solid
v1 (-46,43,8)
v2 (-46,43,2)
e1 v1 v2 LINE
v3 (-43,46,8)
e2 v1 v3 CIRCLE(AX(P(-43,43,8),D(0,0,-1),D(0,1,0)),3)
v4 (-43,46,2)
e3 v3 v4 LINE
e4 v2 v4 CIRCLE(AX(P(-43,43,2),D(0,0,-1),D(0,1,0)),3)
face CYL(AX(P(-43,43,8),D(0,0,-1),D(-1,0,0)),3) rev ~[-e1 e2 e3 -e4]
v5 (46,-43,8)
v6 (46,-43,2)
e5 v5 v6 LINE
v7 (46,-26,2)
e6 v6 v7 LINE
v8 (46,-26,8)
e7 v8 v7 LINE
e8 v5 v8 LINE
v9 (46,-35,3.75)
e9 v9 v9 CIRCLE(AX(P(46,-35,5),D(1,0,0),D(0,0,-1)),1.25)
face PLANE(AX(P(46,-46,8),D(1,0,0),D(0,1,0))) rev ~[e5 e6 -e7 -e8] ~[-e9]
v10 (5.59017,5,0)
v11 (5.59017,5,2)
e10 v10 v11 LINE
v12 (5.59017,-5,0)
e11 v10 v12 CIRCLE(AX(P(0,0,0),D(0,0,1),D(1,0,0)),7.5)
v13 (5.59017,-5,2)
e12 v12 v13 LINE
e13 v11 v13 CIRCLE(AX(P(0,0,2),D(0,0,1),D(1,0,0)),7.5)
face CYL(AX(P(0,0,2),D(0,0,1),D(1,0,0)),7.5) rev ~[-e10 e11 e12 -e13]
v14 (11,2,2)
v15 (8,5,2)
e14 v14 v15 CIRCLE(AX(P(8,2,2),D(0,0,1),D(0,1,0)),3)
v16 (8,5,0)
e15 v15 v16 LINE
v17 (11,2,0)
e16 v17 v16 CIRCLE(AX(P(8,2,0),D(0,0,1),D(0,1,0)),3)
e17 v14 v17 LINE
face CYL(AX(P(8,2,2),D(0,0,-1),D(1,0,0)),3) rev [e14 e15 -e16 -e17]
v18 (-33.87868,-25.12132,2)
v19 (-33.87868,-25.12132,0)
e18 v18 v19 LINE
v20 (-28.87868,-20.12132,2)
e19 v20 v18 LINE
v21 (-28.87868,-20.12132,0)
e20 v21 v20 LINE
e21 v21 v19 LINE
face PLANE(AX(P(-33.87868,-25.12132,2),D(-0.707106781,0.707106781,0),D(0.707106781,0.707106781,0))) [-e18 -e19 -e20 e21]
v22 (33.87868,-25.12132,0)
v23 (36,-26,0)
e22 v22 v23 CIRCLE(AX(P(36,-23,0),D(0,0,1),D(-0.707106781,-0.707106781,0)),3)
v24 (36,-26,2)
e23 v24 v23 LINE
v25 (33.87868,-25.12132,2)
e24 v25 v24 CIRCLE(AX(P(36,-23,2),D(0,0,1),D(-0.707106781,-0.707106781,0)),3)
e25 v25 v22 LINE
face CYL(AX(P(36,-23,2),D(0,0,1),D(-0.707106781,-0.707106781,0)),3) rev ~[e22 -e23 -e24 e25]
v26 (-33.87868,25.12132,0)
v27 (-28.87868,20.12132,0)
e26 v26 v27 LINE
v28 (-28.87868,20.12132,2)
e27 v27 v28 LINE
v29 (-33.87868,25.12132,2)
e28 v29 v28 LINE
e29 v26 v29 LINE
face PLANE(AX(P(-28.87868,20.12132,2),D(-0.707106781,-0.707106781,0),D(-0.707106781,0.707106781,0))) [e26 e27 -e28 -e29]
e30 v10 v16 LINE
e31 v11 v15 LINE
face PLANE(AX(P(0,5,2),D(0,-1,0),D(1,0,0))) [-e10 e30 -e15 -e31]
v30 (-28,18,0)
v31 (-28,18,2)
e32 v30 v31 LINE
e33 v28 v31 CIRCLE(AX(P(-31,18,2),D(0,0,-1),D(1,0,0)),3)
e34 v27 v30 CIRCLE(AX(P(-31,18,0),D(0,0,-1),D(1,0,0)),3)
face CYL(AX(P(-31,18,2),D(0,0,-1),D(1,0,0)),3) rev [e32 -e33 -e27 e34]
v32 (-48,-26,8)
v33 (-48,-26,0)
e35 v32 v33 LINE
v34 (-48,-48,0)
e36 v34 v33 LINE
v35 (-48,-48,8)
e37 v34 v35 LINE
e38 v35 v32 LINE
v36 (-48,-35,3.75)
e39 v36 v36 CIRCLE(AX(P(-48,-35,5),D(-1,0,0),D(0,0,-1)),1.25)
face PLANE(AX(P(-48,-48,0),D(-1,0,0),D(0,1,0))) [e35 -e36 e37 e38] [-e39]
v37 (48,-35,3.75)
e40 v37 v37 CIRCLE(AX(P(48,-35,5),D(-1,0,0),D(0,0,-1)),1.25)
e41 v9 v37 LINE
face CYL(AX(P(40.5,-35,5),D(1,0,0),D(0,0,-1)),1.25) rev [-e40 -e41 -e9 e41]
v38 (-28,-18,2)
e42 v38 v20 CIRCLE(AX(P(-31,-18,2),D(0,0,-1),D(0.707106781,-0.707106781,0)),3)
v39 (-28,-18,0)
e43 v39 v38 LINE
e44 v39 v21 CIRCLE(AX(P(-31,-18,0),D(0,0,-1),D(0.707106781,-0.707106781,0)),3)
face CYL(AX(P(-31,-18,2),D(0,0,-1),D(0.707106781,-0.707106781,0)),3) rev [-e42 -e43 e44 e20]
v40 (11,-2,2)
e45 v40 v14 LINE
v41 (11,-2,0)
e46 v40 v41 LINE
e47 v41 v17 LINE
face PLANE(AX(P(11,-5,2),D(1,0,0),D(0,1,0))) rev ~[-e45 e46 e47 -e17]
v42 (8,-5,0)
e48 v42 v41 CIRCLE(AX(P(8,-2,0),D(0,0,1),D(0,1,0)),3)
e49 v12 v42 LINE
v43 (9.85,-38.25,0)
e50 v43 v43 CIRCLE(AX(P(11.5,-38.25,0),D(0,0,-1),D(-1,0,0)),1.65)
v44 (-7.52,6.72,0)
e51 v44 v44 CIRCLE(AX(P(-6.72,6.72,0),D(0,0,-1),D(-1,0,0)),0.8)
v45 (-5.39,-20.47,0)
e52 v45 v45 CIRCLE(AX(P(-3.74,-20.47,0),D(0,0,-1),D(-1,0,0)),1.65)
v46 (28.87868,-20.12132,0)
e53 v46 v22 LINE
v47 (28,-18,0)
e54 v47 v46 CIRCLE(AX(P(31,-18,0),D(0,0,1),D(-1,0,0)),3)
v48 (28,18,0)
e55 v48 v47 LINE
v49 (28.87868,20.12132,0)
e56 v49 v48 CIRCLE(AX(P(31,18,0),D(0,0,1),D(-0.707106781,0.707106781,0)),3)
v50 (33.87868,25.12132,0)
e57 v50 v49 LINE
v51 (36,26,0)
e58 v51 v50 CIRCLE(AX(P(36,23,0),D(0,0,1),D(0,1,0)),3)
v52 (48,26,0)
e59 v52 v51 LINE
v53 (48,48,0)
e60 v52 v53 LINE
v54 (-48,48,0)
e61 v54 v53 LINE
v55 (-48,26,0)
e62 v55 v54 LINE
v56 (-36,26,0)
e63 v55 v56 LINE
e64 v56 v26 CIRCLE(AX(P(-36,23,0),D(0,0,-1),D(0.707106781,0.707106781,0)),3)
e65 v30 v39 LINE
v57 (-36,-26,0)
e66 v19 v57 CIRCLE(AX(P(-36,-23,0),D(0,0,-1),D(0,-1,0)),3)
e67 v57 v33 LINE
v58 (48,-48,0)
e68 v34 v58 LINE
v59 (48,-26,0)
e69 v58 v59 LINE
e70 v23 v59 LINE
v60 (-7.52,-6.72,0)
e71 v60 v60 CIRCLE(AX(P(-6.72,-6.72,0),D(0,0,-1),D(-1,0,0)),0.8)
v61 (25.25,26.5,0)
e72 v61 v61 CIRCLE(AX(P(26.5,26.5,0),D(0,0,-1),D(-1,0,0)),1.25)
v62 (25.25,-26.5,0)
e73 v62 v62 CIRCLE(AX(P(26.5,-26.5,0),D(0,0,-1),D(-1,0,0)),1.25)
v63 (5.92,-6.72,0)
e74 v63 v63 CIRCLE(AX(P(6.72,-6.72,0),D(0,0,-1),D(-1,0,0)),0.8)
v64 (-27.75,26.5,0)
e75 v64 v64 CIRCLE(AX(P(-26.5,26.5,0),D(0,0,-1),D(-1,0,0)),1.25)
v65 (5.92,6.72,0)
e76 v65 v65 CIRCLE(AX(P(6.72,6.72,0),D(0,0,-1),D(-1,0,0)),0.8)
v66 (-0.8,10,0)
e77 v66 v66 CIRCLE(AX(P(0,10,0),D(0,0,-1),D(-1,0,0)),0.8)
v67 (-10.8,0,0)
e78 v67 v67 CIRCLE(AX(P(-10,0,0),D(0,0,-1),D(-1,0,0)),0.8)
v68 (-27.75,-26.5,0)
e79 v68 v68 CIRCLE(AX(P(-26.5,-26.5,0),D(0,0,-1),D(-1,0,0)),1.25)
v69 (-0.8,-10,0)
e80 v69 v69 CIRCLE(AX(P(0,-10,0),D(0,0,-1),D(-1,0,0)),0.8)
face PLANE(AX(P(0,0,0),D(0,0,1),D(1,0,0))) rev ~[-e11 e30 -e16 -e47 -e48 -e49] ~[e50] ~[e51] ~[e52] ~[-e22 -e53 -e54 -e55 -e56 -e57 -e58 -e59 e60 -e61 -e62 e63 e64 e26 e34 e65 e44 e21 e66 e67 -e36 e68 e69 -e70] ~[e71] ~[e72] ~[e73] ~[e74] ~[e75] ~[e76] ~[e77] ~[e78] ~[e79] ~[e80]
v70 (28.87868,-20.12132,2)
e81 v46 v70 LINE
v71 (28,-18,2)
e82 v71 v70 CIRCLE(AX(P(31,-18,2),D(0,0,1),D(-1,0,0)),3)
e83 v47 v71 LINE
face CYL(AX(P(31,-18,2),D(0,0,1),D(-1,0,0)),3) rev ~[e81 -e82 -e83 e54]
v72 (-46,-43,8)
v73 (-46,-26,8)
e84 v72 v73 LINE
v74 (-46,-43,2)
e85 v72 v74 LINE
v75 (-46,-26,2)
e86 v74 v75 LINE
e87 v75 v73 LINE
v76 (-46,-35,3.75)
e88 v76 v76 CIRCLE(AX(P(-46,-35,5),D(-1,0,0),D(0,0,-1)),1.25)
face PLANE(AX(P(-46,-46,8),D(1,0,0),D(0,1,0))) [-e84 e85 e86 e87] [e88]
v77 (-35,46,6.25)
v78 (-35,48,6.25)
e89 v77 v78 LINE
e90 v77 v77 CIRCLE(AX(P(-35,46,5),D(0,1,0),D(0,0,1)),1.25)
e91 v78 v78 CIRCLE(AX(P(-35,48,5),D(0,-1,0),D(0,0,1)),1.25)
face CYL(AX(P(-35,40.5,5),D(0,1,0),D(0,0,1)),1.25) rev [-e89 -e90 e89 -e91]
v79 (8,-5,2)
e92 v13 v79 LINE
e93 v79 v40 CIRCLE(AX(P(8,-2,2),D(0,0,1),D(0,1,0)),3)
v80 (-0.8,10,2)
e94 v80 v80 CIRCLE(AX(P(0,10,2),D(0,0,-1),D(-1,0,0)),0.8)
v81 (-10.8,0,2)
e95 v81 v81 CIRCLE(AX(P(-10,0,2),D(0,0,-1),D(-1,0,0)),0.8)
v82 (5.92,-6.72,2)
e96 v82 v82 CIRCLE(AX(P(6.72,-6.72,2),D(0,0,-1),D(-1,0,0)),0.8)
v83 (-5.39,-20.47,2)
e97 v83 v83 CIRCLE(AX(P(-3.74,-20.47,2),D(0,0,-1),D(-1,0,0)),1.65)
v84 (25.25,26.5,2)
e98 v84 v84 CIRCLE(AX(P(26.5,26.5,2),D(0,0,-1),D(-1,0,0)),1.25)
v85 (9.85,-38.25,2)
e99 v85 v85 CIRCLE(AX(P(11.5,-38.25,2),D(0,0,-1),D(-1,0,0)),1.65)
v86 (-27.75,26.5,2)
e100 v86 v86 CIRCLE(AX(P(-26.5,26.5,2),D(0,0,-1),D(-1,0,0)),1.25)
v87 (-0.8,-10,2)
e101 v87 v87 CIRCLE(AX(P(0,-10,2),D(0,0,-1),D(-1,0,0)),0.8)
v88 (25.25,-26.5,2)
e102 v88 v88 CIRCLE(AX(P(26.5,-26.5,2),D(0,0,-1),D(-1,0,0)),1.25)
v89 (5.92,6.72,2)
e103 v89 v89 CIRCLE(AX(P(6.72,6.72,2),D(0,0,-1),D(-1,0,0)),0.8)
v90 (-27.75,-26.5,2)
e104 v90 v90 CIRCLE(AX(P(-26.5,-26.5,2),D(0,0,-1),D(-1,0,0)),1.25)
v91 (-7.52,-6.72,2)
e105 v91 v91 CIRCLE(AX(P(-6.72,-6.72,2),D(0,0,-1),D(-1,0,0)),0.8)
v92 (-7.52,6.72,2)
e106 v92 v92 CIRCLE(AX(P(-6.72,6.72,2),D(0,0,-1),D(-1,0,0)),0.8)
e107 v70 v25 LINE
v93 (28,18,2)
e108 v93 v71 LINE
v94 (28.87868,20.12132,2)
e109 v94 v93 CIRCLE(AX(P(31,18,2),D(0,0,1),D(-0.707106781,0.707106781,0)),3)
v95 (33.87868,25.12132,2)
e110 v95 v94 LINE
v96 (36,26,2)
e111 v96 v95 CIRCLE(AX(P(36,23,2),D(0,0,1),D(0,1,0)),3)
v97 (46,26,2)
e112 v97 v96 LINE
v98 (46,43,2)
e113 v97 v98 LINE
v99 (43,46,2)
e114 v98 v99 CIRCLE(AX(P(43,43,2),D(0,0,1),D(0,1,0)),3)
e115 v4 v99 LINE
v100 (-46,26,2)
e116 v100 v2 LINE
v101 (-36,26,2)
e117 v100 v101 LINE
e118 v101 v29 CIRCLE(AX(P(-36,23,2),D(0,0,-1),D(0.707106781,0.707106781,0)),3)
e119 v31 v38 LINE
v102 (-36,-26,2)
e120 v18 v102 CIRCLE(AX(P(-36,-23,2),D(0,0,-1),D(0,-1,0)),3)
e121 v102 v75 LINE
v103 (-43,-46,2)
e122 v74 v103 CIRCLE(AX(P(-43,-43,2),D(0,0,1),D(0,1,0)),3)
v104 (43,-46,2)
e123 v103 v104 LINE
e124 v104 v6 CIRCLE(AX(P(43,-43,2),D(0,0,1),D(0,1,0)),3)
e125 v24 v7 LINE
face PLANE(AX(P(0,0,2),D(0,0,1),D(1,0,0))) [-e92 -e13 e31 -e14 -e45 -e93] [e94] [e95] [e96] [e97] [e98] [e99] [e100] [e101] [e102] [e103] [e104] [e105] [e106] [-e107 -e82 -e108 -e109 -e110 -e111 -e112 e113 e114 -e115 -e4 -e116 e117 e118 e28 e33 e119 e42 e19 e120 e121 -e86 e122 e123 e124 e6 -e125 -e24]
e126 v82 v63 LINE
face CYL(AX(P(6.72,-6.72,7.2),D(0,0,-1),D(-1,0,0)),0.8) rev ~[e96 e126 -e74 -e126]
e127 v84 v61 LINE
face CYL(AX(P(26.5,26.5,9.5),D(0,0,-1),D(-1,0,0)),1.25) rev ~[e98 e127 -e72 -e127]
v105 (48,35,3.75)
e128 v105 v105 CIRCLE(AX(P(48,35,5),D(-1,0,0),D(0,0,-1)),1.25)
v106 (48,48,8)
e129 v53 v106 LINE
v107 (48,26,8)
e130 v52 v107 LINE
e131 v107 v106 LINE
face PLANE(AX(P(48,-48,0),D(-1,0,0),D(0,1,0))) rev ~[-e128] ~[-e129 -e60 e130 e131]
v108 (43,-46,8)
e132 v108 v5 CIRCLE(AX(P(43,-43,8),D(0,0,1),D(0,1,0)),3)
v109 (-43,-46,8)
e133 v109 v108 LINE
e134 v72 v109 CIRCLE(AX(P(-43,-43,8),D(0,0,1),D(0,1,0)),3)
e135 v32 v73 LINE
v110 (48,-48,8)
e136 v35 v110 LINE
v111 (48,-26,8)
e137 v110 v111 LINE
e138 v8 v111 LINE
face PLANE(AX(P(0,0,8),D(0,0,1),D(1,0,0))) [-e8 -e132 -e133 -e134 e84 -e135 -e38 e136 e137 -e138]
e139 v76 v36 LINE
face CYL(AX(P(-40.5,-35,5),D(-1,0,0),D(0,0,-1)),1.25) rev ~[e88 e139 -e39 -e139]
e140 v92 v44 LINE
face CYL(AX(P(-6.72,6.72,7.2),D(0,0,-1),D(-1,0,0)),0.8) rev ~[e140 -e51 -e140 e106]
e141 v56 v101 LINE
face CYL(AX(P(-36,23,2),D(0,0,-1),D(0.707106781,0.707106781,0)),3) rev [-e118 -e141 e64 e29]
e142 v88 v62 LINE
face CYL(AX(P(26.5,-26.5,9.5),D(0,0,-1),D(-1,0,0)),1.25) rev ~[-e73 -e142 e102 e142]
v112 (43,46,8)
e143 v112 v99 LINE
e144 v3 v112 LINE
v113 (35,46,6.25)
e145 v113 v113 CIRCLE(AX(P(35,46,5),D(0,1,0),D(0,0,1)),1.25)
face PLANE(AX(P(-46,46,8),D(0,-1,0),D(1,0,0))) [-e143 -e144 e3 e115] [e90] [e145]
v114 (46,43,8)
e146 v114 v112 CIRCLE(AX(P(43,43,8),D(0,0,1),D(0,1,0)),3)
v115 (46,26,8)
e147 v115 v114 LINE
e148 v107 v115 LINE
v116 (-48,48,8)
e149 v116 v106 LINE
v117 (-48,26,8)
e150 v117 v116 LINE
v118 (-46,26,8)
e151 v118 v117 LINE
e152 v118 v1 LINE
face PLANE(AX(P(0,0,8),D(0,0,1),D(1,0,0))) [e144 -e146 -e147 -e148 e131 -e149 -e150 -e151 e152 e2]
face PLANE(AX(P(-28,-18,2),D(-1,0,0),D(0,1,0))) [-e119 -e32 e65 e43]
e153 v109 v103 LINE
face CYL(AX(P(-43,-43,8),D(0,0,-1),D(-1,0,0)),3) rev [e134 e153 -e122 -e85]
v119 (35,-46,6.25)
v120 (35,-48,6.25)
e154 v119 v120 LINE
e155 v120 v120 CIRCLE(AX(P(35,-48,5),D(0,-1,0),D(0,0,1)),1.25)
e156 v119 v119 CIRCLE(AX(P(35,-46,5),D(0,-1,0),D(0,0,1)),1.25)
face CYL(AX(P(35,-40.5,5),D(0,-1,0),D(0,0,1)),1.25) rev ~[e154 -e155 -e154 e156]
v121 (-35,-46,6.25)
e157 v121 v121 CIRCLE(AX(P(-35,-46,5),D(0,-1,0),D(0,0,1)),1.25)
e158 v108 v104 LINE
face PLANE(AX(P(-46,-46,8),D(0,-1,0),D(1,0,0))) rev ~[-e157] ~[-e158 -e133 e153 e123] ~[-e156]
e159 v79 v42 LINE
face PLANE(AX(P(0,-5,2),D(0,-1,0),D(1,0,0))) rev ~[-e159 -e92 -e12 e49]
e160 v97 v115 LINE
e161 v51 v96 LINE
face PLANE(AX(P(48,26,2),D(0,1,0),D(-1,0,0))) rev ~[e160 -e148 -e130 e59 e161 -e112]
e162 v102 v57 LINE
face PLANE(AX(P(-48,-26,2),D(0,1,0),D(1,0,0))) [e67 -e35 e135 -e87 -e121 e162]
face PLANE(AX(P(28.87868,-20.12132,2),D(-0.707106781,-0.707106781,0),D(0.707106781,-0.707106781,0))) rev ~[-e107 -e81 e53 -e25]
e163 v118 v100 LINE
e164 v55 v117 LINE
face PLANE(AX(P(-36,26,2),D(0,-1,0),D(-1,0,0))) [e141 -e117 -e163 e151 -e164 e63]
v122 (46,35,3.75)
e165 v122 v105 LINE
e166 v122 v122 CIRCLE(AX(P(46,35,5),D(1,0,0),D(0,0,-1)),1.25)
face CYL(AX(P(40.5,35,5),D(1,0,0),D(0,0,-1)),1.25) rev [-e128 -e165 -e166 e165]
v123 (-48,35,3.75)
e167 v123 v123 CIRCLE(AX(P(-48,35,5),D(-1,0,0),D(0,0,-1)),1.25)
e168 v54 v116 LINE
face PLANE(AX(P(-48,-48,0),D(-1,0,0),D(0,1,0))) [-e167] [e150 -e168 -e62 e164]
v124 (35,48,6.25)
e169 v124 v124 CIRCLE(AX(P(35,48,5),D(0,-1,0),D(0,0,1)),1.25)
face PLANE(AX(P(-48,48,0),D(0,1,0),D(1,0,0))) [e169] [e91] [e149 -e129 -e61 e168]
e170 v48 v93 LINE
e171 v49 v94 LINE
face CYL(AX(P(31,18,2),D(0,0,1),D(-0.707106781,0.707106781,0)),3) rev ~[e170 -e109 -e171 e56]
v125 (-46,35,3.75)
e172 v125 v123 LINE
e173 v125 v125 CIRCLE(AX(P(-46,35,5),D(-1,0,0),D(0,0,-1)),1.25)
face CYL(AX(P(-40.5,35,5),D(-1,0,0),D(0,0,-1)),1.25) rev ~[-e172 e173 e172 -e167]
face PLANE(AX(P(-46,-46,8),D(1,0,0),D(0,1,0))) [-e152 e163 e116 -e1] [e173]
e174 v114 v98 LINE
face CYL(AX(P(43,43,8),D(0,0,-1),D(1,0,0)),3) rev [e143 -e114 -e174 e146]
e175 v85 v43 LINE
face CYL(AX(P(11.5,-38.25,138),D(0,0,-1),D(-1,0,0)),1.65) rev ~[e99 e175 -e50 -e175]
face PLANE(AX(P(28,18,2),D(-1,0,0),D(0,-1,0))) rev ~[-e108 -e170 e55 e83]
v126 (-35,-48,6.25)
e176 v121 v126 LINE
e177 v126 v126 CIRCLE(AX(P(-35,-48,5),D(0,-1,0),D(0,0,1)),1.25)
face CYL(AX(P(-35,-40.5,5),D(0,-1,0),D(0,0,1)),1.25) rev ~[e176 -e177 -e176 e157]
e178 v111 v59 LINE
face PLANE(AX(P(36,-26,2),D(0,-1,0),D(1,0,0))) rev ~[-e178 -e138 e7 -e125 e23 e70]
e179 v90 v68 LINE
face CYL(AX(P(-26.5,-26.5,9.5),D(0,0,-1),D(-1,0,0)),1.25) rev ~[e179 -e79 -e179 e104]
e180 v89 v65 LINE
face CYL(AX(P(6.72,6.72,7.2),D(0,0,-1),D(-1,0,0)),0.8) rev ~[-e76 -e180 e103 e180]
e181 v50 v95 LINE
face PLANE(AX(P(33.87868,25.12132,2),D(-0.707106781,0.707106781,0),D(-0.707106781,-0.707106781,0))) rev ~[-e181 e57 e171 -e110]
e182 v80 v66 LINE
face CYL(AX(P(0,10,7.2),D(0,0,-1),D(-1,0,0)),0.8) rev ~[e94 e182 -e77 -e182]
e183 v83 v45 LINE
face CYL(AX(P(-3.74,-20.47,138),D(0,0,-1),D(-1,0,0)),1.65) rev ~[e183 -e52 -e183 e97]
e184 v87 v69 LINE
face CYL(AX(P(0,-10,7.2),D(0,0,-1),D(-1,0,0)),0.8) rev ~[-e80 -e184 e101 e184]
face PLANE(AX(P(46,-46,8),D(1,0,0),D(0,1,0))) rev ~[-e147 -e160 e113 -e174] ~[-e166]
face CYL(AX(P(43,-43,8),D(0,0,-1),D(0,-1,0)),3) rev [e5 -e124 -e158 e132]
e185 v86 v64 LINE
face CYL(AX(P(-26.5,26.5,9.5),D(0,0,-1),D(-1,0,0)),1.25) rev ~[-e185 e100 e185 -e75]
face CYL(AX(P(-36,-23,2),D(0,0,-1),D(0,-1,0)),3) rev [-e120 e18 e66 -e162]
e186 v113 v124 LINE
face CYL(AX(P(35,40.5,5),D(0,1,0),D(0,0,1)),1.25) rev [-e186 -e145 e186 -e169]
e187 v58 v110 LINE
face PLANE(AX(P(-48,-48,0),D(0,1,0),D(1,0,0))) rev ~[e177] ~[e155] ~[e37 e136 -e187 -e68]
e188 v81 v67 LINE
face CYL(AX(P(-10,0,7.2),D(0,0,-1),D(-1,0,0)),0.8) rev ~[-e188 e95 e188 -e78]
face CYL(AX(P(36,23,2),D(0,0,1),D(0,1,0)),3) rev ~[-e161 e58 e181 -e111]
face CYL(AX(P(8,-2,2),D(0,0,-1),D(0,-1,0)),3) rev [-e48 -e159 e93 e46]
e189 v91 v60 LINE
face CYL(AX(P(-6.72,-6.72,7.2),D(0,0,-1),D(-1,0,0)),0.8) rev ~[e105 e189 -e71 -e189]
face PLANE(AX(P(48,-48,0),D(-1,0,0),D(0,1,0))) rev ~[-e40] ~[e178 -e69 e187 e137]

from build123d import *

# Parameters (mm, degrees)
SKETCH1_W                      = 96
SKETCH1_H                      = 96
BOSS_EXTRUDE1_DEPTH            = 8
SKETCH2_W                      = 92
SKETCH2_H                      = 92
COMPONENT_PLATFORM_DEPTH       = 6
CABLE_SLOTS_DEPTH              = 6
SKETCH4_R                      = 7.5
CENTER_MASS_CUT_DEPTH          = 6
INNER_CORNER_FILLETS_R         = 3
SKETCH10_W                     = 11
SKETCH10_H                     = 10
MOTOR_CUTOUT_DEPTH             = 2
FILLET1_R                      = 3
M3X0_5_TAPPED_HOLE1_AT_2_COUNT = 2
M3X0_5_TAPPED_HOLE1_AT_2_PITCH = 70
M3X0_5_TAPPED_HOLE2_AT_2_COUNT = 2
M3X0_5_TAPPED_HOLE2_AT_2_PITCH = 70
M3X0_5_TAPPED_HOLE3_D          = 2.5
M3X0_5_TAPPED_HOLE3_DEPTH      = 7.5
M3X0_5_TAPPED_HOLE3_TIP        = 0.751075774
M2X0_4_TAPPED_HOLE1_D          = 1.6
M2X0_4_TAPPED_HOLE1_DEPTH      = 5.2
M2X0_4_TAPPED_HOLE1_TIP        = 0.480688495
M4X0_7_TAPPED_HOLE1_D          = 3.3


with BuildPart() as part:
    # Sketch1 → Boss-Extrude1 (new body)
    with BuildSketch(Plane.XY):
        Rectangle(SKETCH1_W, SKETCH1_H)
    extrude(amount=BOSS_EXTRUDE1_DEPTH)

    # Sketch2 → Component Platform (cut)
    with BuildSketch(Plane.XY.offset(8)):
        Rectangle(SKETCH2_W, SKETCH2_H)
    extrude(amount=-COMPONENT_PLATFORM_DEPTH, mode=Mode.SUBTRACT)

    # Sketch3 → Cable Slots (cut, symmetric)
    with BuildSketch(Plane.XY.offset(2)):
        with BuildLine():
            Line((-33.878679656, -25.121320344), (-28.878679656, -20.121320344))
            ThreePointArc((-28.878679656, -20.121320344), (-28.228361402, -19.148050297), (-28, -18))
            Line((-28, -18), (-28, 18))
            ThreePointArc((-28, 18), (-28.228361402, 19.148050297), (-28.878679656, 20.121320344))
            Line((-28.878679656, 20.121320344), (-33.878679656, 25.121320344))
            ThreePointArc((-33.878679656, 25.121320344), (-34.851949703, 25.771638598), (-36, 26))
            Line((-36, 26), (-48, 26))
            Line((-48, 26), (-48, -26))
            Line((-48, -26), (-36, -26))
            ThreePointArc((-36, -26), (-34.851949703, -25.771638598), (-33.878679656, -25.121320344))
        make_face()
        with BuildLine():
            Line((48, -26), (48, 26))
            Line((48, 26), (36, 26))
            ThreePointArc((36, 26), (34.851949703, 25.771638598), (33.878679656, 25.121320344))
            Line((33.878679656, 25.121320344), (28.878679656, 20.121320344))
            ThreePointArc((28.878679656, 20.121320344), (28.228361402, 19.148050297), (28, 18))
            Line((28, 18), (28, -18))
            ThreePointArc((28, -18), (28.228361402, -19.148050297), (28.878679656, -20.121320344))
            Line((28.878679656, -20.121320344), (33.878679656, -25.121320344))
            ThreePointArc((33.878679656, -25.121320344), (34.851949703, -25.771638598), (36, -26))
            Line((36, -26), (48, -26))
        make_face()
    extrude(amount=CABLE_SLOTS_DEPTH, both=True, mode=Mode.SUBTRACT)

    # Sketch4 → Center Mass Cut (cut)
    with BuildSketch(Plane.XY.offset(2)):
        Circle(SKETCH4_R)
    extrude(amount=-CENTER_MASS_CUT_DEPTH, mode=Mode.SUBTRACT)

    # Inner Corner Fillets
    inner_corner_fillets_edges = [part.edges().sort_by_distance(p)[0] for p in [
        (-46, -46, 5),
        (-46, 46, 5),
        (46, 46, 5),
        (46, -46, 5),
    ]]
    fillet(inner_corner_fillets_edges, radius=INNER_CORNER_FILLETS_R)

    # Sketch10 → Motor Cutout (cut)
    with BuildSketch(Plane.XY.offset(2)):
        with Locations((5.5, 0)):
            Rectangle(SKETCH10_W, SKETCH10_H)
    extrude(amount=-MOTOR_CUTOUT_DEPTH, mode=Mode.SUBTRACT)

    # Fillet1
    fillet1_edges = [part.edges().sort_by_distance(p)[0] for p in [
        (11, -5, 1),
        (11, 5, 1),
    ]]
    fillet(fillet1_edges, radius=FILLET1_R)

    # Sketch14 → M3x0.5 Tapped Hole1 (revolve, cut)
    with BuildSketch(Plane(origin=(48, -35, 5), x_dir=(0, 0, -1), z_dir=(0, 1, 0))):
        Polygon((0, 0), (0, 8.251075774), (1.25, 7.5), (1.25, 0), align=None)
    m3x0_5_tapped_hole1 = revolve(axis=Axis((54.35, -35, 5), (-1, 0, 0)), mode=Mode.SUBTRACT)

    # M3x0.5 Tapped Hole1 at 2: M3x0.5 Tapped Hole1 ×2
    with Locations(*[(0, i * M3X0_5_TAPPED_HOLE1_AT_2_PITCH, 0) for i in range(1, M3X0_5_TAPPED_HOLE1_AT_2_COUNT)]):
        add(m3x0_5_tapped_hole1, mode=Mode.SUBTRACT)

    # Sketch17 → M3x0.5 Tapped Hole2 (revolve, cut)
    with BuildSketch(Plane(origin=(35, 48, 5), x_dir=(0, 0, 1), z_dir=(1, 0, 0))):
        Polygon((0, 0), (0, 8.251075774), (1.25, 7.5), (1.25, 0), align=None)
    m3x0_5_tapped_hole2 = revolve(axis=Axis((35, 54.35, 5), (0, -1, 0)), mode=Mode.SUBTRACT)

    # M3x0.5 Tapped Hole2 at 2: M3x0.5 Tapped Hole2 ×2
    with Locations(*[(-i * M3X0_5_TAPPED_HOLE2_AT_2_PITCH, 0, 0) for i in range(1, M3X0_5_TAPPED_HOLE2_AT_2_COUNT)]):
        add(m3x0_5_tapped_hole2, mode=Mode.SUBTRACT)

    # Mirror1: M3x0.5 Tapped Hole1 across plane
    add(m3x0_5_tapped_hole1.mirror(Plane(origin=(0, 0, 0), x_dir=(0, 0, 1), z_dir=(1, 0, 0))), mode=Mode.SUBTRACT)

    # Mirror1 copy 1 sketch → Mirror1 copy 1 (revolve, cut)
    with BuildSketch(Plane(origin=(-48, 35, 5), x_dir=(0, 0, -1), z_dir=(0, 1, 0))):
        Polygon((0, 0), (0, -8.251075774), (1.25, -7.5), (1.25, 0), align=None)
    revolve(axis=Axis((-54.35, 35, 5), (-1, 0, 0)), mode=Mode.SUBTRACT)

    # Mirror2: M3x0.5 Tapped Hole2 across plane
    add(m3x0_5_tapped_hole2.mirror(Plane(origin=(0, 0, 0), x_dir=(0, 0, 1), z_dir=(0, -1, 0))), mode=Mode.SUBTRACT)

    # Mirror2 copy 1 sketch → Mirror2 copy 1 (revolve, cut)
    with BuildSketch(Plane(origin=(-35, -48, 5), x_dir=(0, 0, 1), z_dir=(1, 0, 0))):
        Polygon((0, 0), (0, -8.251075774), (1.25, -7.5), (1.25, 0), align=None)
    revolve(axis=Axis((-35, -54.35, 5), (0, -1, 0)), mode=Mode.SUBTRACT)

    # M3x0.5 Tapped Hole3
    with Locations(Plane.XY.offset(2)):
        with Locations((-26.5, -26.5), (26.5, -26.5), (26.5, 26.5), (-26.5, 26.5)):
            Hole(M3X0_5_TAPPED_HOLE3_D / 2, depth=M3X0_5_TAPPED_HOLE3_DEPTH)
            with Locations((0, 0, -(M3X0_5_TAPPED_HOLE3_DEPTH + M3X0_5_TAPPED_HOLE3_TIP / 2))):  # 118° drill point
                Cone(0, M3X0_5_TAPPED_HOLE3_D / 2, M3X0_5_TAPPED_HOLE3_TIP, mode=Mode.SUBTRACT)

    # M2x0.4 Tapped Hole1
    with Locations(Plane.XY.offset(2)):
        with Locations((6.72, -6.72), (0, -10), (-6.72, -6.72), (-10, 0), (-6.72, 6.72), (0, 10), (6.72, 6.72)):
            Hole(M2X0_4_TAPPED_HOLE1_D / 2, depth=M2X0_4_TAPPED_HOLE1_DEPTH)
            with Locations((0, 0, -(M2X0_4_TAPPED_HOLE1_DEPTH + M2X0_4_TAPPED_HOLE1_TIP / 2))):  # 118° drill point
                Cone(0, M2X0_4_TAPPED_HOLE1_D / 2, M2X0_4_TAPPED_HOLE1_TIP, mode=Mode.SUBTRACT)

    # M4x0.7 Tapped Hole1 (through all)
    with Locations(Plane.XY.offset(2)):
        with Locations((-3.74, -20.47), (11.5, -38.25)):
            Hole(M4X0_7_TAPPED_HOLE1_D / 2)


solid = part.part
